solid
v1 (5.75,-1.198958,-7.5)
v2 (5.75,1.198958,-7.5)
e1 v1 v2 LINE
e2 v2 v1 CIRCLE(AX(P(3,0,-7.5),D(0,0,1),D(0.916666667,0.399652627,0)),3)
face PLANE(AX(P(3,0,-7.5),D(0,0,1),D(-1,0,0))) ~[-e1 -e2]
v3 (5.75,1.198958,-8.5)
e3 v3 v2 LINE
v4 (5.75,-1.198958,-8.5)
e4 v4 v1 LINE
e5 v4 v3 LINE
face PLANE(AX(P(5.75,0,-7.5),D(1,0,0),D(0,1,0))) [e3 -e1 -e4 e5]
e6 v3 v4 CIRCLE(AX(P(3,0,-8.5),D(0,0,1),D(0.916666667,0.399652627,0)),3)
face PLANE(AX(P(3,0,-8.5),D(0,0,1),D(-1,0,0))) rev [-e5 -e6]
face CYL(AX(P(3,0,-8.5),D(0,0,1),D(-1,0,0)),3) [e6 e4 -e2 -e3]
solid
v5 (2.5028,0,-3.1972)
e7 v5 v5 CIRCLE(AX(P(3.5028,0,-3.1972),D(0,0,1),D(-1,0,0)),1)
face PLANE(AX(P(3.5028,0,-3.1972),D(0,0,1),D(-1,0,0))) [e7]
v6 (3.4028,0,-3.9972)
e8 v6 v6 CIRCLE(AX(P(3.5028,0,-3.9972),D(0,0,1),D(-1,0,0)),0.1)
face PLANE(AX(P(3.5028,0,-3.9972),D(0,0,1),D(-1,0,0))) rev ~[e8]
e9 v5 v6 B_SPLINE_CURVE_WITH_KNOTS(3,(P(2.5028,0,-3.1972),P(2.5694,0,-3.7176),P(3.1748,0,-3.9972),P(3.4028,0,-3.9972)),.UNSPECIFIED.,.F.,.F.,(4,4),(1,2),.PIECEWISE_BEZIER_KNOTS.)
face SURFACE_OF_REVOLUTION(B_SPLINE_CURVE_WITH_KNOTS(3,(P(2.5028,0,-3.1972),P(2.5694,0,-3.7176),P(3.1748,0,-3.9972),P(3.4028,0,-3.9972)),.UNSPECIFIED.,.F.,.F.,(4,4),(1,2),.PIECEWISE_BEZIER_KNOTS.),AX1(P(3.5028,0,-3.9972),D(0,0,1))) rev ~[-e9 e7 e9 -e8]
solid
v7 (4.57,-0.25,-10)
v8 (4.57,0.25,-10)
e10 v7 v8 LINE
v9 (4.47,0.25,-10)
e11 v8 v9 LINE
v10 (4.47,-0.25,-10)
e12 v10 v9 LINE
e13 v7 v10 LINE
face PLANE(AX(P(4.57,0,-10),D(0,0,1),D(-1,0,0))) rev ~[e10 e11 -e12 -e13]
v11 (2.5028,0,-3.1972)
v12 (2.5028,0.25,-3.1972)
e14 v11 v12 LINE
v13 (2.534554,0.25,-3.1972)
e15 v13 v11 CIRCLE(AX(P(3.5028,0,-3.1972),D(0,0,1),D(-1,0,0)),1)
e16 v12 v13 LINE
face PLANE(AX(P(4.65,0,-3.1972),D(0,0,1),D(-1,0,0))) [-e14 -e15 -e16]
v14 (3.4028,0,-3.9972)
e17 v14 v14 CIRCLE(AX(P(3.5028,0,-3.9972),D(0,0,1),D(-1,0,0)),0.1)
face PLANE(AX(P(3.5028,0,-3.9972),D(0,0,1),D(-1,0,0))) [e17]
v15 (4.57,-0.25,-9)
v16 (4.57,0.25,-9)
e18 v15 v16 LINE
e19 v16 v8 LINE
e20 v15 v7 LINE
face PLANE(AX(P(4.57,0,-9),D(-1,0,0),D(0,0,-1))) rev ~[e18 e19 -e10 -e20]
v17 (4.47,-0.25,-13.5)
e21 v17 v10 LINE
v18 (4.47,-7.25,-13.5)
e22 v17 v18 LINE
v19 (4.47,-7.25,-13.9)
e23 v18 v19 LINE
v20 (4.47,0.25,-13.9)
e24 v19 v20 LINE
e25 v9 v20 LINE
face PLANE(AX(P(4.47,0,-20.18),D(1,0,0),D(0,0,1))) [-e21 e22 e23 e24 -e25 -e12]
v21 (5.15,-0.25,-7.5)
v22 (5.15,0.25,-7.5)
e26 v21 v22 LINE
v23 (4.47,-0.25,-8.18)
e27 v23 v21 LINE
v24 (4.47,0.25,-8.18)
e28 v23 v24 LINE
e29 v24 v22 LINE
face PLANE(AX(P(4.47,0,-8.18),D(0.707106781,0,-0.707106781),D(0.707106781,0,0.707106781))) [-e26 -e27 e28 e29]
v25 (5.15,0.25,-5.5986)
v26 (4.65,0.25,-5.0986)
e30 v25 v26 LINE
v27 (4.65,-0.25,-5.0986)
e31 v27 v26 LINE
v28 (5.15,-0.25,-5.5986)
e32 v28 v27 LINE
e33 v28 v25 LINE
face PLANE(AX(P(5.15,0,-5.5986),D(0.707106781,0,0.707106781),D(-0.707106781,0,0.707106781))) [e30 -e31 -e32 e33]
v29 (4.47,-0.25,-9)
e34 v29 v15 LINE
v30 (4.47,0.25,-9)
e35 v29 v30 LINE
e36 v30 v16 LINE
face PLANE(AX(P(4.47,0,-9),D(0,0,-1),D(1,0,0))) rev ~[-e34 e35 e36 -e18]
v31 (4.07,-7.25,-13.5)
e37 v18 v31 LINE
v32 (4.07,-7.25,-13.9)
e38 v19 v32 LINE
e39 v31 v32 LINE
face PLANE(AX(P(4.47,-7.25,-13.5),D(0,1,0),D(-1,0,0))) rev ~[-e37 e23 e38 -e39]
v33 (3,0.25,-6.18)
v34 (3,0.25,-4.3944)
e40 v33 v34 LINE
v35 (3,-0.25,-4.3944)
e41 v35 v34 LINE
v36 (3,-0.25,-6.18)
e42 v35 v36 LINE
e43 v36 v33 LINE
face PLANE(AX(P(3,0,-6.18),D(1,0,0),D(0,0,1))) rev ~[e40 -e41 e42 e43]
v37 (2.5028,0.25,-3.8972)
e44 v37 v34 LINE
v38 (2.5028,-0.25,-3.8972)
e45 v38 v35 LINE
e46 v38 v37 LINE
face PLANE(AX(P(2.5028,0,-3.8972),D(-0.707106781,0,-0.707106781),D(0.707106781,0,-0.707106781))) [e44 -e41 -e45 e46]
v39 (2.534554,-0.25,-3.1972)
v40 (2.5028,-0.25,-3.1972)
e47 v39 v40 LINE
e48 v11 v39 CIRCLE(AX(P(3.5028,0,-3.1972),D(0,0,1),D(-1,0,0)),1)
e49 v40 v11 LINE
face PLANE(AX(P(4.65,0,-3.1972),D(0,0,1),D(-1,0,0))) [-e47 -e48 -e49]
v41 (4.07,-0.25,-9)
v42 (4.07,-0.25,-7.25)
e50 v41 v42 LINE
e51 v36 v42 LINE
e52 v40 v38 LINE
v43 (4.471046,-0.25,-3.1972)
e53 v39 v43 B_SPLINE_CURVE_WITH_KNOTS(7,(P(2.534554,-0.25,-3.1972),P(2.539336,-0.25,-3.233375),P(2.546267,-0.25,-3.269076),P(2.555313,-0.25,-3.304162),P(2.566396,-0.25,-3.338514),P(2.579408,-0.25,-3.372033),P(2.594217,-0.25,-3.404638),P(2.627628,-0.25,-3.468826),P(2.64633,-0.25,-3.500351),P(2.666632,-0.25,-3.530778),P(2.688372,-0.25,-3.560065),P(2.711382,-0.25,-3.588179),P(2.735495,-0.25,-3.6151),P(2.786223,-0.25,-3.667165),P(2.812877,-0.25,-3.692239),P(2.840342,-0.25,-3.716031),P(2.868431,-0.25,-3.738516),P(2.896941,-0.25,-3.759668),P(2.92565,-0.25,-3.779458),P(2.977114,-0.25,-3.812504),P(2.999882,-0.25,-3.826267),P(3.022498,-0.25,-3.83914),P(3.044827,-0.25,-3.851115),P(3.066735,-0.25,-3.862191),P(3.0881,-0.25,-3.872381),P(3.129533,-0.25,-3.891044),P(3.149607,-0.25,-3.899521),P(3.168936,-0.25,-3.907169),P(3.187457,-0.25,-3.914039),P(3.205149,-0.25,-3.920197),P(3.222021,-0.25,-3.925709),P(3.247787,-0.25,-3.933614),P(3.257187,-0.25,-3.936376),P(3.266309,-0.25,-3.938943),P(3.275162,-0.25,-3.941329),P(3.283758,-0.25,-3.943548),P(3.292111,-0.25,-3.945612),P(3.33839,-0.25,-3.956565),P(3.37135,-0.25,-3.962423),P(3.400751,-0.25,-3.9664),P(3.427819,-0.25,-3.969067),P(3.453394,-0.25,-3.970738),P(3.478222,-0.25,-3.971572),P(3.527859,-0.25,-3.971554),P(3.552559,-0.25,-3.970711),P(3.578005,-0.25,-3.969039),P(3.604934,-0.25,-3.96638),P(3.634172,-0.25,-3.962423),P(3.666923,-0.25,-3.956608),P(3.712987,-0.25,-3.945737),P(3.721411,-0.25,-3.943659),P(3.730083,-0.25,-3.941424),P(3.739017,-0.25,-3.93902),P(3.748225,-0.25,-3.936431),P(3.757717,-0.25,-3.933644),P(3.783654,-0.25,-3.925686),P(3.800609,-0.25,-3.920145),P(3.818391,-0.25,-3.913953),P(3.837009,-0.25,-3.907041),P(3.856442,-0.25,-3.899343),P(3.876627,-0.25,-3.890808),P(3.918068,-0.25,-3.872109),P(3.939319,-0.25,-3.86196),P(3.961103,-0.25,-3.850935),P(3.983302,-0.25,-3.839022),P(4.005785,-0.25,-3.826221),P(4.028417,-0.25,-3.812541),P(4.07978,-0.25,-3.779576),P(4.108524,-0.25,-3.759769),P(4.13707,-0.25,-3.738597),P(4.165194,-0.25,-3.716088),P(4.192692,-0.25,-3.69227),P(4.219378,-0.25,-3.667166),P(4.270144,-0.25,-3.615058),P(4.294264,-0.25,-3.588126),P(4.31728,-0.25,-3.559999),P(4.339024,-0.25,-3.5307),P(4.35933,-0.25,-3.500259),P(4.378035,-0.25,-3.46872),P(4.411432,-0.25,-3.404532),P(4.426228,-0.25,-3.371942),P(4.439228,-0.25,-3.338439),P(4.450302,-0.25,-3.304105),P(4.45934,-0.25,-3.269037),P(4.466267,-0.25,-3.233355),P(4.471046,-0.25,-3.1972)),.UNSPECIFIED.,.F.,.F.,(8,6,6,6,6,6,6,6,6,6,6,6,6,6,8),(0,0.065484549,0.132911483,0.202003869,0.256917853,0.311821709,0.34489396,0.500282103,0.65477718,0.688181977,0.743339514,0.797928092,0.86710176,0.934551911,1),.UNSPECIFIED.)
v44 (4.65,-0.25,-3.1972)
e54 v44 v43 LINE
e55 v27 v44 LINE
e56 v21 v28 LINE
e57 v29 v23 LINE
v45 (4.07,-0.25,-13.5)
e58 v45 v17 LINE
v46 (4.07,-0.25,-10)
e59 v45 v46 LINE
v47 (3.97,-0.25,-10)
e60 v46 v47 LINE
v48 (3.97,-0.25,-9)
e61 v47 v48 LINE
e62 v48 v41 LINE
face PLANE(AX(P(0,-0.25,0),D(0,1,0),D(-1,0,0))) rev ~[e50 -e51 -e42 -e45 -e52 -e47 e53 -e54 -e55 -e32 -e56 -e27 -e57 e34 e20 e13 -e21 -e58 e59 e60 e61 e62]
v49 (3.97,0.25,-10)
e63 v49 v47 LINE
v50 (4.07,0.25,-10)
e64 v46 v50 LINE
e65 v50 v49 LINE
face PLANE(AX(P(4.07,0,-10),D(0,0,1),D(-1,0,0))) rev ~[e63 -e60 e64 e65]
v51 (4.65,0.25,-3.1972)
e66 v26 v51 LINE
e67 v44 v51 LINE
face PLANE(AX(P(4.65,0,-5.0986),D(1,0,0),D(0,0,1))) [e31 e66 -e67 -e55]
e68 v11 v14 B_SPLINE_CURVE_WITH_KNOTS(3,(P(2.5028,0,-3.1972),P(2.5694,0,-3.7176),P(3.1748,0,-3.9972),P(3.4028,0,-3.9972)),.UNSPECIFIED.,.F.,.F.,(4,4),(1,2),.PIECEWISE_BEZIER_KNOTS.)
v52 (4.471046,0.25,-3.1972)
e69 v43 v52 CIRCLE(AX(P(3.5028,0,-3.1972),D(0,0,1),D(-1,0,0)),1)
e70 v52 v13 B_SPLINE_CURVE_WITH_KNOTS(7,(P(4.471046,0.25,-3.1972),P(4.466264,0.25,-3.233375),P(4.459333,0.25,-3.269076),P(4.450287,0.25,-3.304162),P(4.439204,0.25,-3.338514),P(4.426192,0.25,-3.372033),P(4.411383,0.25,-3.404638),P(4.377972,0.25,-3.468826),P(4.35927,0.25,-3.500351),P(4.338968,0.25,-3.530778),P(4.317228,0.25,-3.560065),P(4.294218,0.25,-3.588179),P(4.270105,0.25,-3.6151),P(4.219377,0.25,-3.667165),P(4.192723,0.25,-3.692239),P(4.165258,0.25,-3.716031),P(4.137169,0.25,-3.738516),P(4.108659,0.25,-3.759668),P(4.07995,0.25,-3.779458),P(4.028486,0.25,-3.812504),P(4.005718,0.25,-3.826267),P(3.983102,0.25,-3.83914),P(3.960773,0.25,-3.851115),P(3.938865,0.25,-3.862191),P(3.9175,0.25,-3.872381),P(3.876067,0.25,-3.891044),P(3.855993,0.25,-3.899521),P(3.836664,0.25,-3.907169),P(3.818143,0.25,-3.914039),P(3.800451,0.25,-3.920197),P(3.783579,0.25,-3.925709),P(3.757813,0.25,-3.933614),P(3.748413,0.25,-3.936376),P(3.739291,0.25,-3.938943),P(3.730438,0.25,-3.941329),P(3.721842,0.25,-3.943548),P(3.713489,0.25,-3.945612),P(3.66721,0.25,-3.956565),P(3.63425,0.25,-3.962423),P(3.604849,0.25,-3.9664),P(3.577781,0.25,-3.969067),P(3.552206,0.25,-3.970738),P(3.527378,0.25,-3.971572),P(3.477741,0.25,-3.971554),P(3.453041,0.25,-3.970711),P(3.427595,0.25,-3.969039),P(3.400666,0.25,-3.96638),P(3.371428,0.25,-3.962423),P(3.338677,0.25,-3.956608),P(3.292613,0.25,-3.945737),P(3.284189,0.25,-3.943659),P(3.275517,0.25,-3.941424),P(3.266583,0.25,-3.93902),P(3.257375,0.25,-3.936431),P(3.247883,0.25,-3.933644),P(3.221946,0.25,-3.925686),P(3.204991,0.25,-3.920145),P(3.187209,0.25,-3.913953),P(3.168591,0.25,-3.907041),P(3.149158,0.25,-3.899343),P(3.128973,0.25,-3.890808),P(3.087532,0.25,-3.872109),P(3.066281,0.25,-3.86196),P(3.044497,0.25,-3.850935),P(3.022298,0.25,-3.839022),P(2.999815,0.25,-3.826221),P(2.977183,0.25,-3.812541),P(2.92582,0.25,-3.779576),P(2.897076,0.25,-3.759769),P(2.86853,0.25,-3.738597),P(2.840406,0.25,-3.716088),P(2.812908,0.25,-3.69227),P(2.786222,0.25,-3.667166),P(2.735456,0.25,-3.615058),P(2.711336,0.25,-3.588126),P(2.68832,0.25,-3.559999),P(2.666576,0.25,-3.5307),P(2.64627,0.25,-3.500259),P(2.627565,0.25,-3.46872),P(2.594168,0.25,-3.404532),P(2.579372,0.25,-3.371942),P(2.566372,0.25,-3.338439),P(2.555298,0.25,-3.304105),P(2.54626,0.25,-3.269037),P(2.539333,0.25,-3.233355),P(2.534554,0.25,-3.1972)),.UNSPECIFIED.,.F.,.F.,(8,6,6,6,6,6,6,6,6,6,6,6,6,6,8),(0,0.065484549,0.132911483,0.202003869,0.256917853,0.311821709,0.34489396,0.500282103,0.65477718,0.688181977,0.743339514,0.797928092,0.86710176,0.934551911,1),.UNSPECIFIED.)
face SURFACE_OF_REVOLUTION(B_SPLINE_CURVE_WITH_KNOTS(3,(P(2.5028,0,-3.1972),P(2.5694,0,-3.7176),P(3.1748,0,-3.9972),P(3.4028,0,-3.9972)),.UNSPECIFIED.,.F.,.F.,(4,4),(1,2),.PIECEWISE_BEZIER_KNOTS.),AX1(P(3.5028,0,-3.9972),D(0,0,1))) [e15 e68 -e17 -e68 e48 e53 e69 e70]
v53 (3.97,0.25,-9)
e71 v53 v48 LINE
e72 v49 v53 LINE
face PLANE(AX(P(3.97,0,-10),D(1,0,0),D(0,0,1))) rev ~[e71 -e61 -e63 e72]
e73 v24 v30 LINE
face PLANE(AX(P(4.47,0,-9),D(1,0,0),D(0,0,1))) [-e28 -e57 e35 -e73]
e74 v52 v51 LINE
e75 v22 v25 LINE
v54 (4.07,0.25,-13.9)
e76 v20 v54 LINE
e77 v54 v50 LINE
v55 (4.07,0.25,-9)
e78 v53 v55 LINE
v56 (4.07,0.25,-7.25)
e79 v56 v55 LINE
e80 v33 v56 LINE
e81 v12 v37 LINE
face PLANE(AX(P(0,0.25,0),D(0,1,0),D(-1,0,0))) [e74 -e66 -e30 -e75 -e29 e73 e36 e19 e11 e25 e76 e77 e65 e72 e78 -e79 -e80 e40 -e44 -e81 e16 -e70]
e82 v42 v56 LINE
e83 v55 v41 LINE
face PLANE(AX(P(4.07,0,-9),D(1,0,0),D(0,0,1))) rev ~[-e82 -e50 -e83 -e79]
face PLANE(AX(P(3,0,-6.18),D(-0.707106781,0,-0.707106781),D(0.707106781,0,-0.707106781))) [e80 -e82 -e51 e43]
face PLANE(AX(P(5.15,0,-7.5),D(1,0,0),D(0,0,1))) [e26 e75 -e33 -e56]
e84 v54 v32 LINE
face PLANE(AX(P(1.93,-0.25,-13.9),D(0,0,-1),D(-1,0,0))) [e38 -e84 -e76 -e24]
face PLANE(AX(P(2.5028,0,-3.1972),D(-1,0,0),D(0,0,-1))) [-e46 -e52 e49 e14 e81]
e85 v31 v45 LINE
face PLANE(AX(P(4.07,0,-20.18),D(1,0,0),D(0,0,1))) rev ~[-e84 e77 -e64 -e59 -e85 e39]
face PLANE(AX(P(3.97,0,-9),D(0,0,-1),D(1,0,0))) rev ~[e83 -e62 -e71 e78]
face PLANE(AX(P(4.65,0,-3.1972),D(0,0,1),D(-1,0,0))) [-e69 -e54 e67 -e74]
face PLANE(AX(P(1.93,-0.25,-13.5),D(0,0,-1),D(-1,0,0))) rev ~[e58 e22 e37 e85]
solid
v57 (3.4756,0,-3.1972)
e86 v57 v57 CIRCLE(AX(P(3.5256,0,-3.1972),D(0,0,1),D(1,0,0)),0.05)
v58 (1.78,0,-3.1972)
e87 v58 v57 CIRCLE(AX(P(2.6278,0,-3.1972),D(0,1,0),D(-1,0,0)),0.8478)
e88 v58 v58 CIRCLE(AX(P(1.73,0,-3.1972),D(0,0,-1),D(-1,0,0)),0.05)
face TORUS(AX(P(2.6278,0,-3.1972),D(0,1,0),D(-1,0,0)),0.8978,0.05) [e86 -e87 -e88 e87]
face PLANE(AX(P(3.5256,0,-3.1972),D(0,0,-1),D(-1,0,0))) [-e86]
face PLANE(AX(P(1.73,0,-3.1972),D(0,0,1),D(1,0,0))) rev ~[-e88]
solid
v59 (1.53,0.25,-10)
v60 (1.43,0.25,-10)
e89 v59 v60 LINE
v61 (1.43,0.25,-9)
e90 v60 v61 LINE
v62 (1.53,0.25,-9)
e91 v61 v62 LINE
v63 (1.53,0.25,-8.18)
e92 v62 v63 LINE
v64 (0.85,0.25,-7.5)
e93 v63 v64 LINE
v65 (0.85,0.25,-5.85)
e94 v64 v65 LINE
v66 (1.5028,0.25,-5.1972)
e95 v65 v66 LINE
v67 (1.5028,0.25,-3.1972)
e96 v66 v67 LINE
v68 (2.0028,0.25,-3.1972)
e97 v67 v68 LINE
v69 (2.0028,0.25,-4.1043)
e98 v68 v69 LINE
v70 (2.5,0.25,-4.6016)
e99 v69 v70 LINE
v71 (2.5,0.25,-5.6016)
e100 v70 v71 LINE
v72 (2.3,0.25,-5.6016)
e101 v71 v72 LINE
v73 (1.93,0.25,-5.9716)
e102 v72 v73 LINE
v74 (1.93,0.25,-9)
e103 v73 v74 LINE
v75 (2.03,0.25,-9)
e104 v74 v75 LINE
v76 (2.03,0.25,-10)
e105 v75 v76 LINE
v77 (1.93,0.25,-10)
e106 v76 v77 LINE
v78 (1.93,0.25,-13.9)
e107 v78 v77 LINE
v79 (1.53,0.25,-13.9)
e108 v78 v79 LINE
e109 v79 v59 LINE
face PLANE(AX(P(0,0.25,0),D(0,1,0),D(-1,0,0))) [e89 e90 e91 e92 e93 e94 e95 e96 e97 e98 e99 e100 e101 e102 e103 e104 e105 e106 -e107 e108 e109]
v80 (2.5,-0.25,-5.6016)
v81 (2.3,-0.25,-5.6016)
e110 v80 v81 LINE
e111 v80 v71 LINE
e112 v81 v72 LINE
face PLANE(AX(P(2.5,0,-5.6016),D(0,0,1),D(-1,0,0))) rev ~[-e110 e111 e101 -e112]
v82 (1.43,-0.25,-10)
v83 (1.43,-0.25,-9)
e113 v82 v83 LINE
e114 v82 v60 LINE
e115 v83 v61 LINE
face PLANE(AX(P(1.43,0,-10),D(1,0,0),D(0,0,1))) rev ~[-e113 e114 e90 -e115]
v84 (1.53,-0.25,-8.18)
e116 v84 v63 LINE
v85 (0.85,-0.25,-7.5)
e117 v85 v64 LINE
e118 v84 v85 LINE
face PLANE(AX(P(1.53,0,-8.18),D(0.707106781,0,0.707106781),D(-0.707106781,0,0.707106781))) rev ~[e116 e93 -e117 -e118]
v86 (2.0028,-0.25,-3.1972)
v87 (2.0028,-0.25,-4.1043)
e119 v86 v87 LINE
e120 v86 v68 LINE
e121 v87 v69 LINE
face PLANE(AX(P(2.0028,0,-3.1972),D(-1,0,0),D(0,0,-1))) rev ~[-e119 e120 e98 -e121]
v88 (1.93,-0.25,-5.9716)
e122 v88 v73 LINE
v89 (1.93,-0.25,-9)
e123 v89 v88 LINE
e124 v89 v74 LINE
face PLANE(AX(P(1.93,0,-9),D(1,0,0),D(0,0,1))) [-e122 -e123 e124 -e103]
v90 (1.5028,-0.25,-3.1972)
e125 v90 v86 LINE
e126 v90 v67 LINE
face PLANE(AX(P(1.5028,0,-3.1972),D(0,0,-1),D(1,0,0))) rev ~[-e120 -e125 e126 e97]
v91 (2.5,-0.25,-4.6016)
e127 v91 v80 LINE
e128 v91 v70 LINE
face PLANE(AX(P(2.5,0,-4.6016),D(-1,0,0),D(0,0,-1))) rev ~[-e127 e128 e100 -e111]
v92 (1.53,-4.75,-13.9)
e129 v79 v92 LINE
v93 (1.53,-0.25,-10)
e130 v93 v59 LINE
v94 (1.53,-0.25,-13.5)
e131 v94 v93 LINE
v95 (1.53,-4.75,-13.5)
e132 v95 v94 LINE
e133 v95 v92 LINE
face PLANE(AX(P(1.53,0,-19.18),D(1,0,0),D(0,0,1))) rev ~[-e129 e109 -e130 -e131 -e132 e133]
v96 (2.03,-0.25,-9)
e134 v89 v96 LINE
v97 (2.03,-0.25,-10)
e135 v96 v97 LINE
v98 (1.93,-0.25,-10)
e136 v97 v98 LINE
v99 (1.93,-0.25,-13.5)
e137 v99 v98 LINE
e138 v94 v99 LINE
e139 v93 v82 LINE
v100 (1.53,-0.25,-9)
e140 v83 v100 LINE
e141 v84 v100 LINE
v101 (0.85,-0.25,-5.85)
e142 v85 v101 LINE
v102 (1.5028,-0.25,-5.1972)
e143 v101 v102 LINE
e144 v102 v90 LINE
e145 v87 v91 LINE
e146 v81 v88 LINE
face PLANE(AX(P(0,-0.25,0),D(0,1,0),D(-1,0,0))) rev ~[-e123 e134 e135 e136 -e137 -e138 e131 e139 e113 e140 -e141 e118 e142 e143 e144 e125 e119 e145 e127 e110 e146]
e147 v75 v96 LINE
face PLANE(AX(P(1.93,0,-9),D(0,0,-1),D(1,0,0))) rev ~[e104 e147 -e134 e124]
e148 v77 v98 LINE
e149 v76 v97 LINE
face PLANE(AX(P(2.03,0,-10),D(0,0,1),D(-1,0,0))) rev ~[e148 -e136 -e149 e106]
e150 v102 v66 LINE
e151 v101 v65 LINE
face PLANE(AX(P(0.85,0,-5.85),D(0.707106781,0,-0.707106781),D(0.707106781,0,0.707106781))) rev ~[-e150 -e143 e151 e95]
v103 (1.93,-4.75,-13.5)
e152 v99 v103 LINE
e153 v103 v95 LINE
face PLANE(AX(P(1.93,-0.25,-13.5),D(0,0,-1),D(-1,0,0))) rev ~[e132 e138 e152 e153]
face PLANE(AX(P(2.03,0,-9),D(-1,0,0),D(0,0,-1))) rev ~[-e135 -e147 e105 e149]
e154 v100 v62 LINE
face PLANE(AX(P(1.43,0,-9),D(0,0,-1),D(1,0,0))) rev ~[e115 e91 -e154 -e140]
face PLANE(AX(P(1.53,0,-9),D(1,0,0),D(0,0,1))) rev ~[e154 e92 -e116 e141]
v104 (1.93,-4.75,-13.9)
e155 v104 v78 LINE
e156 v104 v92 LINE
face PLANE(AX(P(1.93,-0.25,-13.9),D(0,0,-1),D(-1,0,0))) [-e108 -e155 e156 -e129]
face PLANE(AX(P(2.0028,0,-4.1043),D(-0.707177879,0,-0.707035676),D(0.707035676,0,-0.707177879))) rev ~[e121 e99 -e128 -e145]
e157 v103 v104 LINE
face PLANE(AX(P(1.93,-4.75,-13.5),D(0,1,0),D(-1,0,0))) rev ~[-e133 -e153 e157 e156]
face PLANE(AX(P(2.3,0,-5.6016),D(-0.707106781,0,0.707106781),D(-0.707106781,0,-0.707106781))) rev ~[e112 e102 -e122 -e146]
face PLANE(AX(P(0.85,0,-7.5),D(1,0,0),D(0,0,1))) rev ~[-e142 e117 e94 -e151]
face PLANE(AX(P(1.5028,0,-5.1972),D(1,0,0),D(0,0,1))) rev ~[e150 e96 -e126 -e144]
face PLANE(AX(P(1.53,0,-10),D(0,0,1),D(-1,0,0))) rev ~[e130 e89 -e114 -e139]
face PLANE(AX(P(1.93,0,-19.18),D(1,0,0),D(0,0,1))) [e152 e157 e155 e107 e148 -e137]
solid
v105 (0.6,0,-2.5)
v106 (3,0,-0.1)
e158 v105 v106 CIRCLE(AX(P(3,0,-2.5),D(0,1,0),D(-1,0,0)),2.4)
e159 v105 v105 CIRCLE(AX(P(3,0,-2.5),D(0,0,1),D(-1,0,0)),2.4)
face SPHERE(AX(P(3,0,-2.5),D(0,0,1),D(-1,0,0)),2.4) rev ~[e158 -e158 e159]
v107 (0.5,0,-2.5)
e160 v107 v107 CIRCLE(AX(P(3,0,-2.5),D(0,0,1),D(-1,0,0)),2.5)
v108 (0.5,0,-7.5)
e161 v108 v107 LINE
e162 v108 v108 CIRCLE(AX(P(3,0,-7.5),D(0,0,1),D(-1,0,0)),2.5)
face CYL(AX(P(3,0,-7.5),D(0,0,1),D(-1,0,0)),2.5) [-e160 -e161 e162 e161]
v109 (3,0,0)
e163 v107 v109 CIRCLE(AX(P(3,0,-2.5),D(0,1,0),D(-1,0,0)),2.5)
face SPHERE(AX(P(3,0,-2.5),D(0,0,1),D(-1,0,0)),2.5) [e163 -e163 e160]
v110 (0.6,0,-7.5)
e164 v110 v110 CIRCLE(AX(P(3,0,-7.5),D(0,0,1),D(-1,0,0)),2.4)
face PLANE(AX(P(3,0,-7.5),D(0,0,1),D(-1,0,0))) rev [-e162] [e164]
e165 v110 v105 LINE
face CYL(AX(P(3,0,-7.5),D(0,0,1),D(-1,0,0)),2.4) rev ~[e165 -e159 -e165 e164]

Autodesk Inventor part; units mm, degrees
ref_plane "YZ Plane" through (0, 0, 0) normal (1, 0, 0) x (0, 1, 0)
ref_plane "XZ Plane" through (0, 0, 0) normal (0, 1, 0) x (-1, 0, 0)
ref_plane "XY Plane" through (0, 0, 0) normal (0, 0, 1) x (1, 0, 0)
sketch "Sketch1" plane through (0, 0, 0) normal (0, 1, 0) x (-1, 0, 0)
  line L0 (-1.93, -19.18) -> (-1.53, -19.18)
  line L1 (-4.47, -20.18) -> (-4.07, -20.18)
  line L2 (-0.5, -2.5) -> (-5.5, -2.5) construction
  line L3 (-5.5, -2.5) -> (-5.5, -7.5)
  line L4 (-5.5, -7.5) -> (-0.5, -7.5)
  line L5 (-0.5, -7.5) -> (-0.5, -2.5)
  line L6 (0, -7.5) -> (-6, -7.5)
  line L7 (-6, -7.5) -> (-6, -8.5)
  line L8 (-6, -8.5) -> (0, -8.5)
  line L9 (0, -8.5) -> (0, -7.5)
  arc A0 (-0.5, -2.5) -> (-5.5, -2.5) centre (-3, -2.5) ccw
  line L10 (0, -24.216) -> (0, 4.0361) projected
  line L11 (17.1925, 0) -> (-9.8654, 0) projected
  line L12 (-3, -8.5) -> (-3, -19.8408) construction
  line L13 (-1.53, -19.18) -> (-1.53, -10)
  line L14 (-1.93, -19.18) -> (-1.93, -10)
  line L15 (-4.07, -20.18) -> (-4.07, -10)
  line L16 (-4.47, -20.18) -> (-4.47, -10)
  line L17 (-3, -8.5) -> (-3, 0)
  line L18 (-6, -19.8408) -> (0, -19.8408) construction
  line L19 (-1.43, -9) -> (-1.53, -9)
  line L20 (-2.03, -9) -> (-2.03, -10)
  line L21 (-2.03, -10) -> (-1.93, -10)
  line L22 (-1.43, -10) -> (-1.43, -9)
  line L23 (-3.97, -9) -> (-4.07, -9)
  line L24 (-4.57, -9) -> (-4.57, -10)
  line L25 (-4.57, -10) -> (-4.47, -10)
  line L26 (-3.97, -10) -> (-3.97, -9)
  line L27 (-1.93, -9) -> (-2.03, -9)
  line L28 (-4.07, -9) -> (-4.07, -7.25)
  line L29 (-4.47, -9) -> (-4.57, -9)
  line L30 (-4.07, -10) -> (-3.97, -10)
  line L31 (-1.53, -10) -> (-1.43, -10)
  line L32 (-4.47, -9) -> (-4.47, -8.18)
  line L33 (-1.93, -9) -> (-1.93, -5.9716)
  line L34 (-1.53, -9) -> (-1.53, -8.18)
  line L35 (-4.47, -8.18) -> (-5.15, -7.5)
  line L36 (-1.53, -8.18) -> (-0.85, -7.5)
  line L37 (-0.85, -7.5) -> (-0.85, -5.85)
  line L38 (-5.15, -7.5) -> (-5.15, -5.5986)
  line L39 (-5.15, -5.5986) -> (-4.65, -5.0986)
  line L40 (-4.65, -5.0986) -> (-4.65, -3.1972)
  line L41 (-4.65, -3.1972) -> (-2.5028, -3.1972)
  line L42 (-0.85, -5.85) -> (-1.5028, -5.1972)
  line L43 (-1.5028, -5.1972) -> (-1.5028, -3.1972)
  line L44 (-1.5028, -3.1972) -> (-2.0028, -3.1972)
  line L45 (-2.0028, -3.1972) -> (-2.0028, -4.1043)
  line L46 (-2.0028, -4.1043) -> (-2.5, -4.6016)
  line L47 (-2.5, -4.6016) -> (-2.5, -5.6016)
  line L48 (-2.5, -5.6016) -> (-2.3, -5.6016)
  line L49 (-2.3, -5.6016) -> (-1.93, -5.9716)
  line L50 (8.8309, -12.5892) -> (8.8309, -17.0713)
  line L51 (8.7309, -12.5892) -> (8.8309, -12.5892)
  line L52 (8.8309, -17.0713) -> (9.3309, -17.0713)
  line L53 (9.3309, -17.0713) -> (9.3309, -12.5892)
  line L54 (11.3309, -18.2444) -> (11.8309, -18.2444)
  line L55 (11.3309, -12.5815) -> (11.3309, -18.2444)
  line L56 (11.8309, -18.2444) -> (11.8309, -12.5815)
  line L57 (8.2266, -6.0537) -> (8.2266, -7.4999)
  line L58 (8.5861, -5.6941) -> (8.2266, -6.0537)
  line L59 (8.5861, -4.3452) -> (8.5861, -5.6941)
  line L60 (8.2266, -7.4999) -> (8.8309, -8.1043)
  line L61 (9.3309, -7.3282) -> (9.7365, -6.9226)
  line L62 (9.7365, -6.9226) -> (10.3309, -6.9226)
  line L63 (10.3309, -6.9226) -> (10.3309, -5.844)
  line L64 (8.5861, -4.3452) -> (11.2106, -4.3452)
  line L65 (10.8309, -6.0512) -> (10.8309, -6.9149)
  line L66 (10.8309, -6.9149) -> (11.1527, -6.9149)
  line L67 (11.2393, -4.3452) -> (11.2106, -4.3452)
  line L68 (11.1527, -6.9149) -> (11.3309, -7.0932)
  line L69 (11.8309, -8.0966) -> (12.4276, -7.4999)
  line L70 (12.4276, -7.4999) -> (12.4276, -5.8553)
  line L71 (9.4309, -11.5892) -> (9.3309, -11.5892)
  line L72 (11.8309, -11.5815) -> (11.8309, -8.0966)
  line L73 (8.8309, -8.1043) -> (8.8309, -11.5892)
  line L74 (11.3309, -7.0932) -> (11.3309, -11.5815)
  line L75 (9.3309, -11.5892) -> (9.3309, -7.3282)
  line L76 (10.3309, -5.844) -> (11.2106, -4.9643)
  line L77 (11.7107, -5.1714) -> (10.8309, -6.0512)
  line L78 (11.2106, -4.3452) -> (11.2393, -4.3452) construction
  line L79 (12.4276, -5.8553) -> (12.2082, -5.6359)
  line L80 (11.2106, -4.2719) -> (11.2106, -4.3452)
  line L81 (11.2106, -4.9643) -> (11.2106, -4.2719)
  line L82 (11.2106, -4.2719) -> (11.2393, -4.3452)
  line L83 (11.7107, -4.3453) -> (11.7107, -5.1714)
  line L84 (10.8445, -3.7709) -> (11.3445, -3.7709) construction
  spline S0 degree 3 poles (11.9954, -4.3997) (11.9862, -4.3486) (11.9578, -4.2521) (11.8889, -4.1254) (11.7974, -4.0171) (11.6749, -3.9177) (11.5186, -3.8358) (11.3301, -3.782) (11.1322, -3.7647) (10.9338, -3.7851) (10.7437, -3.8443) (10.5851, -3.9352) (10.4598, -4.0478) (10.3654, -4.1727) (10.2931, -4.3216) (10.262, -4.4371) (10.2513, -4.4991) knots 0 0 0 0 0.0625 0.125 0.1875 0.25 0.333333 0.416667 0.5 0.583333 0.666667 0.75 0.8125 0.875 0.9375 1 1 1 1
  line L85 (12.2082, -4.3453) -> (11.7107, -4.3453)
  line L86 (12.2082, -5.6359) -> (12.2082, -4.3453)
  line L87 (9.3309, -12.5892) -> (9.4309, -12.5892)
  line L88 (11.2309, -12.5815) -> (11.3309, -12.5815)
  line L89 (11.8309, -12.5815) -> (11.9309, -12.5815)
  line L90 (8.7309, -11.5892) -> (8.7309, -12.5892)
  line L91 (8.8309, -11.5892) -> (8.7309, -11.5892)
  line L92 (9.4309, -12.5892) -> (9.4309, -11.5892)
  line L93 (11.3309, -11.5815) -> (11.2309, -11.5815)
  line L94 (11.2309, -11.5815) -> (11.2309, -12.5815)
  line L95 (11.9309, -12.5815) -> (11.9309, -11.5815)
  line L96 (11.9309, -11.5815) -> (11.8309, -11.5815)
  line L97 (13.3271, -7.4999) -> (7.3271, -7.4999)
  line L98 (7.3271, -7.4999) -> (7.3271, -8.4999)
  line L99 (7.3271, -8.4999) -> (13.3271, -8.4999)
  line L100 (13.3271, -8.4999) -> (13.3271, -7.4999)
  line L101 (12.4276, -7.4999) -> (8.2266, -7.4999)
  line L102 (12.8271, -7.4999) -> (7.8271, -7.4999)
  line L103 (7.8271, -7.4999) -> (7.8271, -2.4999)
  line L104 (7.8271, -2.4999) -> (12.8271, -2.4999) construction
  line L105 (12.8271, -2.4999) -> (12.8271, -7.4999)
  arc A1 (12.8271, -2.4999) -> (7.8271, -2.4999) centre (10.3271, -2.4999) ccw
  line L106 (-2.5028, -3.1972) -> (-2.5028, -3.8972)
  line L107 (-2.5028, -3.8972) -> (-3, -4.3944)
  line L108 (-3, -4.3944) -> (-3, -5.9975)
  line L109 (-3, -6.18) -> (-4.07, -7.25)
  line L110 (-2.5028, -3.1972) -> (-2.0028, -3.1972) construction
  line L111 (-2.5, -5.6016) -> (-3, -5.9975) construction
  point P0 (0, 0)
  point P1 (-3, -7.5)
  point P2 (0, -8)
  point P3 (-1.73, -19.18)
  point P4 (-4.27, -20.18)
  point P5 (-3, -7.5)
  point P6 (0, 0)
  point P7 (7.8271, -7.4999)
  point P8 (10.3271, -7.4999)
  point P9 (-3, -5.196)
  point P10 (-3, -4.3944)
  point P11 (-3, -3.1972)
  dimension "d10" = 5
  dimension "d12" = 6
  dimension "d13" = 5
  dimension "d14" = 6
  dimension "Jarak_Kaki" = 2.54
  dimension "d18" = 1
  dimension "d19" = 0.4
  dimension "d20" = 1.27
  dimension "Panjang_Kaki" = 12
  dimension "d30" = 0.6
  dimension "d31" = 1
  dimension "d32" = 0.5
  dimension "d34" = 135
  dimension "d35" = 0.35
  dimension "d51" = 0.5
  dimension "d76" = 1.65
  dimension "d82" = 2.5
  dimension "d83" = 0.5
  dimension "d84" = 0.5
  dimension "d85" = 1
  dimension "d86" = 0.5
  dimension "d87" = 0.5
  dimension "d89" = 0.7
  dimension "d92" = 0.5
  dimension "d93" = 0.25
  dimension "d95" = 1
  dimension "d104" = 0.2
  dimension "d106" = 2
revolve "Revolution1" add sketch "Sketch1" angle 360 about axis through (3, 0, -8.5) along (0, 0, 1) contours L33 L49 L48 L47 L46 L45 L44 L43 L42 L37 L4 | L4 L17 L107 L106 L41 A0 L5 L37 L42 L43 L44 L45 L46 L47 L48 L49 L33 | L17 L41 L106 L107
shell "Shell1" thickness 0.1 removed faces 1 at (3.6238, -0.5526, -7.5)
revolve "Revolution2" add sketch "Sketch1" angle 360 about axis through (3, 0, -8.5) along (0, 0, 1) separate body contours L33 L4 L36 L34 L8 | L8 L17 L4 L33 | L34 L36 L4 L6 L9 L8
sketch "Sketch2" plane through (3, 0, -7.5) normal (0, 0, 1) x (1, 0, 0)
  line L0 (2.75, 2.5) -> (3.75, 2.5)
  line L1 (3.75, 2.5) -> (3.75, -2.5)
  line L2 (3.75, -2.5) -> (2.75, -2.5)
  line L3 (2.75, -2.5) -> (2.75, 2.5)
  circle A0 centre (0, 0) radius 2.5 projected
  circle A1 centre (0, 0) radius 2.5 projected
  line L4 (-3, -4.2) -> (-3, 4.2) construction
  line L5 (2.5, -1.6681) -> (2.5, 1.3873) construction
  line L6 (-4.368, 0) -> (5.2078, 0) projected
  point P0 (-3, 0)
  point P1 (2.75, 0)
  dimension "d110" = 0.25
  dimension "d111" = 5
  dimension "d112" = 1
extrude "Extrusion1" cut sketch "Sketch2" against normal up to next contours L0 L1 L6 L3 | L6 L1 L2 L3 bodies 2
extrude "Extrusion2" add sketch "Sketch1" along normal mid plane 0.5 separate body contours L14 L21 L20 L27 L33 L8 L34 L19 L22 L31 L13 L0 | L33 L4 L36 L34 L8 | L33 L49 L48 L47 L46 L45 L44 L43 L42 L37 L4 | L28 L23 L26 L30 L15 L1 L16 L25 L24 L29 L32 L8 | L8 L32 L35 L4 L28 | L4 L38 L39 L40 L41 L17 L109 L28 | L17 L41 L106 L107
sketch "Sketch3" plane through (2.4, 0, -4) normal (0, 1, 0) x (1, 0, 0)
  line L0 (0.1028, -0.1028) -> (0.1028, -0.8028) projected
  line L1 (0.1028, -0.8028) -> (0.1694, -0.2824) construction
  line L2 (0.1694, -0.2824) -> (0.7748, -0.0028) construction
  line L3 (0.7748, -0.0028) -> (1.0028, -0.0028) construction
  spline S0 degree 3 poles (0.1028, -0.8028) (0.1694, -0.2824) (0.7748, -0.0028) (1.0028, -0.0028) knots 1 1 1 1 2 2 2 2
  line L4 (0.1028, -0.8028) -> (2.25, -0.8028) projected
  line L5 (1.0028, -0.0028) -> (1.1028, -0.0028)
  line L6 (1.1028, -0.0028) -> (1.1028, -0.8028)
  dimension "d99" = 0.8
  dimension "d100" = 0.9
  dimension "d101" = 0.1
revolve "Revolution3" cut sketch "Sketch3" angle 360 about axis through (3.5028, 0, -3.9972) along (0, 0, 1) bodies 3
revolve "Revolution4" add sketch "Sketch3" angle 360 about axis through (3.5028, 0, -3.9972) along (0, 0, 1) separate body
sketch "Sketch4" plane through (3.5028, 0, -3.1972) normal (0, 0, 1) x (1, 0, 0)
  circle A0 centre (-1.7728, 0) radius 0.05
  line L0 (-2, -0.25) -> (-2, 0.25) construction
  line L1 (-2, 0.25) -> (-1.5, 0.25) construction
  line L2 (-1.5728, 0.25) -> (-1.9728, 0.25) construction
  line L3 (-2, 0) -> (-1.7728, 0) construction
  line L4 (-1.7728, 0) -> (-1.7728, 0.25) construction
  line L5 (-1.7728, 0.25) -> (-2, 0.25) construction
  line L6 (-2, 0.25) -> (-2, 0) construction
  circle A1 centre (0, 0) radius 0.05
  point P0 (-3.5028, 0)
  dimension "d109" = 0.1
sketch "Sketch5" plane through (0, 0, 0) normal (0, 1, 0) x (-1, 0, 0)
  line L0 (-5.5, -2.5) -> (-0.5, -2.5) construction
  line L1 (-5.5, -7.5) -> (-0.5, -7.5) construction
  line L2 (-1.5028, -3.1972) -> (-2.0028, -3.1972) construction
  line L3 (-4.5028, -3.1972) -> (-2.5028, -3.1972) construction
  line L4 (-1.7528, -3.1972) -> (-3.5028, -3.1972) construction
  arc A0 (-1.7528, -3.1972) -> (-3.5028, -3.1972) centre (-2.6278, -3.1972) ccw
  point P0 (0, 0)
sweep "Sweep1" add profiles "Sketch4" path "Sketch5" separate body contours A0
sketch "Sketch8" plane through (0, -0.25, 0) normal (0, -1, 0) x (1, 0, 0)
  arc A0 (5.4875, -2.5) -> (0.5125, -2.5) centre (3, -2.5) ccw projected
  line L0 (5.4875, -2.5) -> (5.4875, -7.5) projected
  line L1 (5.4875, -7.5) -> (5.3869, -7.5) projected
  line L2 (5.3869, -7.5) -> (5.3869, -2.5) projected
  arc A1 (5.3869, -2.5) -> (0.6131, -2.5) centre (3, -2.5) ccw projected
  line L3 (0.6131, -2.5) -> (0.6131, -7.5) projected
  line L4 (0.6131, -7.5) -> (0.5125, -7.5) projected
  line L5 (0.5125, -7.5) -> (0.5125, -2.5) projected
  line L6 (5.75, -7.5) -> (5.75, -8.5) projected
  line L7 (5.75, -8.5) -> (0.0104, -8.5) projected
  line L8 (0.0104, -8.5) -> (0.0104, -7.5) projected
  line L9 (0.0104, -7.5) -> (5.75, -7.5) projected
  line L10 (1.93, -5.9716) -> (1.93, -9) projected
  line L11 (1.93, -9) -> (2.03, -9) projected
  line L12 (2.03, -9) -> (2.03, -10) projected
  line L13 (2.03, -10) -> (1.93, -10) projected
  line L14 (1.93, -10) -> (1.93, -19.18) projected
  line L15 (1.93, -19.18) -> (1.53, -19.18) projected
  line L16 (1.53, -19.18) -> (1.53, -10) projected
  line L17 (1.53, -10) -> (1.43, -10) projected
  line L18 (1.43, -10) -> (1.43, -9) projected
  line L19 (1.43, -9) -> (1.53, -9) projected
  line L20 (1.53, -9) -> (1.53, -8.18) projected
  line L21 (1.53, -8.18) -> (0.85, -7.5) projected
  line L22 (0.85, -7.5) -> (0.85, -5.85) projected
  line L23 (0.85, -5.85) -> (1.5028, -5.1972) projected
  line L24 (1.5028, -5.1972) -> (1.5028, -3.1972) projected
  line L25 (1.5028, -3.1972) -> (2.0028, -3.1972) projected
  line L26 (2.0028, -3.1972) -> (2.0028, -4.1043) projected
  line L27 (2.0028, -4.1043) -> (2.5, -4.6016) projected
  line L28 (2.5, -4.6016) -> (2.5, -5.6016) projected
  line L29 (2.5, -5.6016) -> (2.3, -5.6016) projected
  line L30 (2.3, -5.6016) -> (1.93, -5.9716) projected
  line L31 (4.471, -3.1972) -> (4.65, -3.1972) projected
  line L32 (4.65, -3.1972) -> (4.65, -5.0986) projected
  line L33 (4.65, -5.0986) -> (5.15, -5.5986) projected
  line L34 (5.15, -5.5986) -> (5.15, -7.5) projected
  line L35 (5.15, -7.5) -> (4.47, -8.18) projected
  line L36 (4.47, -8.18) -> (4.47, -9) projected
  line L37 (4.47, -9) -> (4.57, -9) projected
  line L38 (4.57, -9) -> (4.57, -10) projected
  line L39 (4.57, -10) -> (4.47, -10) projected
  line L40 (4.47, -10) -> (4.47, -20.18) projected
  line L41 (4.47, -20.18) -> (4.07, -20.18) projected
  line L42 (4.07, -20.18) -> (4.07, -10) projected
  line L43 (4.07, -10) -> (3.97, -10) projected
  line L44 (3.97, -10) -> (3.97, -9) projected
  line L45 (3.97, -9) -> (4.07, -9) projected
  line L46 (4.07, -9) -> (4.07, -7.25) projected
  line L47 (4.07, -7.25) -> (3, -6.18) projected
  line L48 (3, -6.18) -> (3, -4.3944) projected
  line L49 (3, -4.3944) -> (2.5028, -3.8972) projected
  line L50 (2.5028, -3.8972) -> (2.5028, -3.1972) projected
  line L51 (2.5028, -3.1972) -> (2.5345, -3.1972) projected
  line L52 (2.5345, -3.1972) -> (4.471, -3.1972) projected
  line L53 (1.53, -13.5) -> (4.47, -13.5)
  point P0 (0, 0)
  point P1 (4.07, -13.5)
  point P2 (1.93, -13.5)
  dimension "d117" = 5
extrude "Extrusion3" cut sketch "Sketch8" against normal up to surface (0.5 mm away) contours L40 L41 L42 L53 | L53 L14 L15 L16 bodies 3
sketch "Sketch9" plane through (1.93, -0.25, -13.5) normal (0, 0, -1) x (-1, 0, 0)
  line L0 (-2.54, 0.5) -> (-2.14, 0.5) projected
  line L1 (-2.14, 0.5) -> (-2.14, 0) projected
  line L2 (-2.14, 0) -> (-2.54, 0) projected
  line L3 (-2.54, 0) -> (-2.54, 0.5) projected
  line L4 (0, 0.5) -> (0.4, 0.5) projected
  line L5 (0.4, 0.5) -> (0.4, 0) projected
  line L6 (0.4, 0) -> (0, 0) projected
  line L7 (0, 0) -> (0, 0.5) projected
  line L8 (0.4, 0.5) -> (0, 0.5)
  line L9 (0, 0.5) -> (0, -4.5)
  line L10 (0, -4.5) -> (0.4, -4.5)
  line L11 (0.4, -4.5) -> (0.4, 0.5)
  line L12 (-2.14, 0.5) -> (-2.54, 0.5)
  line L13 (-2.54, 0.5) -> (-2.54, -7)
  line L14 (-2.54, -7) -> (-2.14, -7)
  line L15 (-2.14, -7) -> (-2.14, 0.5)
  point P0 (1.93, 0.25)
  dimension "d120" = 0.4
  dimension "d121" = 5
  dimension "d122" = 0.4
  dimension "d123" = 7.5
extrude "Extrusion4" add sketch "Sketch9" along normal blind 0.4 bodies 3
equation "\"d10\" = Diameter_Led"
equation "\"d13\" = Diameter_Led"
equation "\"d20\" = 0.5 * Jarak_Kaki"
equation "\"Diameter_Led\" = 5"
properties part number "LED - yellow"
